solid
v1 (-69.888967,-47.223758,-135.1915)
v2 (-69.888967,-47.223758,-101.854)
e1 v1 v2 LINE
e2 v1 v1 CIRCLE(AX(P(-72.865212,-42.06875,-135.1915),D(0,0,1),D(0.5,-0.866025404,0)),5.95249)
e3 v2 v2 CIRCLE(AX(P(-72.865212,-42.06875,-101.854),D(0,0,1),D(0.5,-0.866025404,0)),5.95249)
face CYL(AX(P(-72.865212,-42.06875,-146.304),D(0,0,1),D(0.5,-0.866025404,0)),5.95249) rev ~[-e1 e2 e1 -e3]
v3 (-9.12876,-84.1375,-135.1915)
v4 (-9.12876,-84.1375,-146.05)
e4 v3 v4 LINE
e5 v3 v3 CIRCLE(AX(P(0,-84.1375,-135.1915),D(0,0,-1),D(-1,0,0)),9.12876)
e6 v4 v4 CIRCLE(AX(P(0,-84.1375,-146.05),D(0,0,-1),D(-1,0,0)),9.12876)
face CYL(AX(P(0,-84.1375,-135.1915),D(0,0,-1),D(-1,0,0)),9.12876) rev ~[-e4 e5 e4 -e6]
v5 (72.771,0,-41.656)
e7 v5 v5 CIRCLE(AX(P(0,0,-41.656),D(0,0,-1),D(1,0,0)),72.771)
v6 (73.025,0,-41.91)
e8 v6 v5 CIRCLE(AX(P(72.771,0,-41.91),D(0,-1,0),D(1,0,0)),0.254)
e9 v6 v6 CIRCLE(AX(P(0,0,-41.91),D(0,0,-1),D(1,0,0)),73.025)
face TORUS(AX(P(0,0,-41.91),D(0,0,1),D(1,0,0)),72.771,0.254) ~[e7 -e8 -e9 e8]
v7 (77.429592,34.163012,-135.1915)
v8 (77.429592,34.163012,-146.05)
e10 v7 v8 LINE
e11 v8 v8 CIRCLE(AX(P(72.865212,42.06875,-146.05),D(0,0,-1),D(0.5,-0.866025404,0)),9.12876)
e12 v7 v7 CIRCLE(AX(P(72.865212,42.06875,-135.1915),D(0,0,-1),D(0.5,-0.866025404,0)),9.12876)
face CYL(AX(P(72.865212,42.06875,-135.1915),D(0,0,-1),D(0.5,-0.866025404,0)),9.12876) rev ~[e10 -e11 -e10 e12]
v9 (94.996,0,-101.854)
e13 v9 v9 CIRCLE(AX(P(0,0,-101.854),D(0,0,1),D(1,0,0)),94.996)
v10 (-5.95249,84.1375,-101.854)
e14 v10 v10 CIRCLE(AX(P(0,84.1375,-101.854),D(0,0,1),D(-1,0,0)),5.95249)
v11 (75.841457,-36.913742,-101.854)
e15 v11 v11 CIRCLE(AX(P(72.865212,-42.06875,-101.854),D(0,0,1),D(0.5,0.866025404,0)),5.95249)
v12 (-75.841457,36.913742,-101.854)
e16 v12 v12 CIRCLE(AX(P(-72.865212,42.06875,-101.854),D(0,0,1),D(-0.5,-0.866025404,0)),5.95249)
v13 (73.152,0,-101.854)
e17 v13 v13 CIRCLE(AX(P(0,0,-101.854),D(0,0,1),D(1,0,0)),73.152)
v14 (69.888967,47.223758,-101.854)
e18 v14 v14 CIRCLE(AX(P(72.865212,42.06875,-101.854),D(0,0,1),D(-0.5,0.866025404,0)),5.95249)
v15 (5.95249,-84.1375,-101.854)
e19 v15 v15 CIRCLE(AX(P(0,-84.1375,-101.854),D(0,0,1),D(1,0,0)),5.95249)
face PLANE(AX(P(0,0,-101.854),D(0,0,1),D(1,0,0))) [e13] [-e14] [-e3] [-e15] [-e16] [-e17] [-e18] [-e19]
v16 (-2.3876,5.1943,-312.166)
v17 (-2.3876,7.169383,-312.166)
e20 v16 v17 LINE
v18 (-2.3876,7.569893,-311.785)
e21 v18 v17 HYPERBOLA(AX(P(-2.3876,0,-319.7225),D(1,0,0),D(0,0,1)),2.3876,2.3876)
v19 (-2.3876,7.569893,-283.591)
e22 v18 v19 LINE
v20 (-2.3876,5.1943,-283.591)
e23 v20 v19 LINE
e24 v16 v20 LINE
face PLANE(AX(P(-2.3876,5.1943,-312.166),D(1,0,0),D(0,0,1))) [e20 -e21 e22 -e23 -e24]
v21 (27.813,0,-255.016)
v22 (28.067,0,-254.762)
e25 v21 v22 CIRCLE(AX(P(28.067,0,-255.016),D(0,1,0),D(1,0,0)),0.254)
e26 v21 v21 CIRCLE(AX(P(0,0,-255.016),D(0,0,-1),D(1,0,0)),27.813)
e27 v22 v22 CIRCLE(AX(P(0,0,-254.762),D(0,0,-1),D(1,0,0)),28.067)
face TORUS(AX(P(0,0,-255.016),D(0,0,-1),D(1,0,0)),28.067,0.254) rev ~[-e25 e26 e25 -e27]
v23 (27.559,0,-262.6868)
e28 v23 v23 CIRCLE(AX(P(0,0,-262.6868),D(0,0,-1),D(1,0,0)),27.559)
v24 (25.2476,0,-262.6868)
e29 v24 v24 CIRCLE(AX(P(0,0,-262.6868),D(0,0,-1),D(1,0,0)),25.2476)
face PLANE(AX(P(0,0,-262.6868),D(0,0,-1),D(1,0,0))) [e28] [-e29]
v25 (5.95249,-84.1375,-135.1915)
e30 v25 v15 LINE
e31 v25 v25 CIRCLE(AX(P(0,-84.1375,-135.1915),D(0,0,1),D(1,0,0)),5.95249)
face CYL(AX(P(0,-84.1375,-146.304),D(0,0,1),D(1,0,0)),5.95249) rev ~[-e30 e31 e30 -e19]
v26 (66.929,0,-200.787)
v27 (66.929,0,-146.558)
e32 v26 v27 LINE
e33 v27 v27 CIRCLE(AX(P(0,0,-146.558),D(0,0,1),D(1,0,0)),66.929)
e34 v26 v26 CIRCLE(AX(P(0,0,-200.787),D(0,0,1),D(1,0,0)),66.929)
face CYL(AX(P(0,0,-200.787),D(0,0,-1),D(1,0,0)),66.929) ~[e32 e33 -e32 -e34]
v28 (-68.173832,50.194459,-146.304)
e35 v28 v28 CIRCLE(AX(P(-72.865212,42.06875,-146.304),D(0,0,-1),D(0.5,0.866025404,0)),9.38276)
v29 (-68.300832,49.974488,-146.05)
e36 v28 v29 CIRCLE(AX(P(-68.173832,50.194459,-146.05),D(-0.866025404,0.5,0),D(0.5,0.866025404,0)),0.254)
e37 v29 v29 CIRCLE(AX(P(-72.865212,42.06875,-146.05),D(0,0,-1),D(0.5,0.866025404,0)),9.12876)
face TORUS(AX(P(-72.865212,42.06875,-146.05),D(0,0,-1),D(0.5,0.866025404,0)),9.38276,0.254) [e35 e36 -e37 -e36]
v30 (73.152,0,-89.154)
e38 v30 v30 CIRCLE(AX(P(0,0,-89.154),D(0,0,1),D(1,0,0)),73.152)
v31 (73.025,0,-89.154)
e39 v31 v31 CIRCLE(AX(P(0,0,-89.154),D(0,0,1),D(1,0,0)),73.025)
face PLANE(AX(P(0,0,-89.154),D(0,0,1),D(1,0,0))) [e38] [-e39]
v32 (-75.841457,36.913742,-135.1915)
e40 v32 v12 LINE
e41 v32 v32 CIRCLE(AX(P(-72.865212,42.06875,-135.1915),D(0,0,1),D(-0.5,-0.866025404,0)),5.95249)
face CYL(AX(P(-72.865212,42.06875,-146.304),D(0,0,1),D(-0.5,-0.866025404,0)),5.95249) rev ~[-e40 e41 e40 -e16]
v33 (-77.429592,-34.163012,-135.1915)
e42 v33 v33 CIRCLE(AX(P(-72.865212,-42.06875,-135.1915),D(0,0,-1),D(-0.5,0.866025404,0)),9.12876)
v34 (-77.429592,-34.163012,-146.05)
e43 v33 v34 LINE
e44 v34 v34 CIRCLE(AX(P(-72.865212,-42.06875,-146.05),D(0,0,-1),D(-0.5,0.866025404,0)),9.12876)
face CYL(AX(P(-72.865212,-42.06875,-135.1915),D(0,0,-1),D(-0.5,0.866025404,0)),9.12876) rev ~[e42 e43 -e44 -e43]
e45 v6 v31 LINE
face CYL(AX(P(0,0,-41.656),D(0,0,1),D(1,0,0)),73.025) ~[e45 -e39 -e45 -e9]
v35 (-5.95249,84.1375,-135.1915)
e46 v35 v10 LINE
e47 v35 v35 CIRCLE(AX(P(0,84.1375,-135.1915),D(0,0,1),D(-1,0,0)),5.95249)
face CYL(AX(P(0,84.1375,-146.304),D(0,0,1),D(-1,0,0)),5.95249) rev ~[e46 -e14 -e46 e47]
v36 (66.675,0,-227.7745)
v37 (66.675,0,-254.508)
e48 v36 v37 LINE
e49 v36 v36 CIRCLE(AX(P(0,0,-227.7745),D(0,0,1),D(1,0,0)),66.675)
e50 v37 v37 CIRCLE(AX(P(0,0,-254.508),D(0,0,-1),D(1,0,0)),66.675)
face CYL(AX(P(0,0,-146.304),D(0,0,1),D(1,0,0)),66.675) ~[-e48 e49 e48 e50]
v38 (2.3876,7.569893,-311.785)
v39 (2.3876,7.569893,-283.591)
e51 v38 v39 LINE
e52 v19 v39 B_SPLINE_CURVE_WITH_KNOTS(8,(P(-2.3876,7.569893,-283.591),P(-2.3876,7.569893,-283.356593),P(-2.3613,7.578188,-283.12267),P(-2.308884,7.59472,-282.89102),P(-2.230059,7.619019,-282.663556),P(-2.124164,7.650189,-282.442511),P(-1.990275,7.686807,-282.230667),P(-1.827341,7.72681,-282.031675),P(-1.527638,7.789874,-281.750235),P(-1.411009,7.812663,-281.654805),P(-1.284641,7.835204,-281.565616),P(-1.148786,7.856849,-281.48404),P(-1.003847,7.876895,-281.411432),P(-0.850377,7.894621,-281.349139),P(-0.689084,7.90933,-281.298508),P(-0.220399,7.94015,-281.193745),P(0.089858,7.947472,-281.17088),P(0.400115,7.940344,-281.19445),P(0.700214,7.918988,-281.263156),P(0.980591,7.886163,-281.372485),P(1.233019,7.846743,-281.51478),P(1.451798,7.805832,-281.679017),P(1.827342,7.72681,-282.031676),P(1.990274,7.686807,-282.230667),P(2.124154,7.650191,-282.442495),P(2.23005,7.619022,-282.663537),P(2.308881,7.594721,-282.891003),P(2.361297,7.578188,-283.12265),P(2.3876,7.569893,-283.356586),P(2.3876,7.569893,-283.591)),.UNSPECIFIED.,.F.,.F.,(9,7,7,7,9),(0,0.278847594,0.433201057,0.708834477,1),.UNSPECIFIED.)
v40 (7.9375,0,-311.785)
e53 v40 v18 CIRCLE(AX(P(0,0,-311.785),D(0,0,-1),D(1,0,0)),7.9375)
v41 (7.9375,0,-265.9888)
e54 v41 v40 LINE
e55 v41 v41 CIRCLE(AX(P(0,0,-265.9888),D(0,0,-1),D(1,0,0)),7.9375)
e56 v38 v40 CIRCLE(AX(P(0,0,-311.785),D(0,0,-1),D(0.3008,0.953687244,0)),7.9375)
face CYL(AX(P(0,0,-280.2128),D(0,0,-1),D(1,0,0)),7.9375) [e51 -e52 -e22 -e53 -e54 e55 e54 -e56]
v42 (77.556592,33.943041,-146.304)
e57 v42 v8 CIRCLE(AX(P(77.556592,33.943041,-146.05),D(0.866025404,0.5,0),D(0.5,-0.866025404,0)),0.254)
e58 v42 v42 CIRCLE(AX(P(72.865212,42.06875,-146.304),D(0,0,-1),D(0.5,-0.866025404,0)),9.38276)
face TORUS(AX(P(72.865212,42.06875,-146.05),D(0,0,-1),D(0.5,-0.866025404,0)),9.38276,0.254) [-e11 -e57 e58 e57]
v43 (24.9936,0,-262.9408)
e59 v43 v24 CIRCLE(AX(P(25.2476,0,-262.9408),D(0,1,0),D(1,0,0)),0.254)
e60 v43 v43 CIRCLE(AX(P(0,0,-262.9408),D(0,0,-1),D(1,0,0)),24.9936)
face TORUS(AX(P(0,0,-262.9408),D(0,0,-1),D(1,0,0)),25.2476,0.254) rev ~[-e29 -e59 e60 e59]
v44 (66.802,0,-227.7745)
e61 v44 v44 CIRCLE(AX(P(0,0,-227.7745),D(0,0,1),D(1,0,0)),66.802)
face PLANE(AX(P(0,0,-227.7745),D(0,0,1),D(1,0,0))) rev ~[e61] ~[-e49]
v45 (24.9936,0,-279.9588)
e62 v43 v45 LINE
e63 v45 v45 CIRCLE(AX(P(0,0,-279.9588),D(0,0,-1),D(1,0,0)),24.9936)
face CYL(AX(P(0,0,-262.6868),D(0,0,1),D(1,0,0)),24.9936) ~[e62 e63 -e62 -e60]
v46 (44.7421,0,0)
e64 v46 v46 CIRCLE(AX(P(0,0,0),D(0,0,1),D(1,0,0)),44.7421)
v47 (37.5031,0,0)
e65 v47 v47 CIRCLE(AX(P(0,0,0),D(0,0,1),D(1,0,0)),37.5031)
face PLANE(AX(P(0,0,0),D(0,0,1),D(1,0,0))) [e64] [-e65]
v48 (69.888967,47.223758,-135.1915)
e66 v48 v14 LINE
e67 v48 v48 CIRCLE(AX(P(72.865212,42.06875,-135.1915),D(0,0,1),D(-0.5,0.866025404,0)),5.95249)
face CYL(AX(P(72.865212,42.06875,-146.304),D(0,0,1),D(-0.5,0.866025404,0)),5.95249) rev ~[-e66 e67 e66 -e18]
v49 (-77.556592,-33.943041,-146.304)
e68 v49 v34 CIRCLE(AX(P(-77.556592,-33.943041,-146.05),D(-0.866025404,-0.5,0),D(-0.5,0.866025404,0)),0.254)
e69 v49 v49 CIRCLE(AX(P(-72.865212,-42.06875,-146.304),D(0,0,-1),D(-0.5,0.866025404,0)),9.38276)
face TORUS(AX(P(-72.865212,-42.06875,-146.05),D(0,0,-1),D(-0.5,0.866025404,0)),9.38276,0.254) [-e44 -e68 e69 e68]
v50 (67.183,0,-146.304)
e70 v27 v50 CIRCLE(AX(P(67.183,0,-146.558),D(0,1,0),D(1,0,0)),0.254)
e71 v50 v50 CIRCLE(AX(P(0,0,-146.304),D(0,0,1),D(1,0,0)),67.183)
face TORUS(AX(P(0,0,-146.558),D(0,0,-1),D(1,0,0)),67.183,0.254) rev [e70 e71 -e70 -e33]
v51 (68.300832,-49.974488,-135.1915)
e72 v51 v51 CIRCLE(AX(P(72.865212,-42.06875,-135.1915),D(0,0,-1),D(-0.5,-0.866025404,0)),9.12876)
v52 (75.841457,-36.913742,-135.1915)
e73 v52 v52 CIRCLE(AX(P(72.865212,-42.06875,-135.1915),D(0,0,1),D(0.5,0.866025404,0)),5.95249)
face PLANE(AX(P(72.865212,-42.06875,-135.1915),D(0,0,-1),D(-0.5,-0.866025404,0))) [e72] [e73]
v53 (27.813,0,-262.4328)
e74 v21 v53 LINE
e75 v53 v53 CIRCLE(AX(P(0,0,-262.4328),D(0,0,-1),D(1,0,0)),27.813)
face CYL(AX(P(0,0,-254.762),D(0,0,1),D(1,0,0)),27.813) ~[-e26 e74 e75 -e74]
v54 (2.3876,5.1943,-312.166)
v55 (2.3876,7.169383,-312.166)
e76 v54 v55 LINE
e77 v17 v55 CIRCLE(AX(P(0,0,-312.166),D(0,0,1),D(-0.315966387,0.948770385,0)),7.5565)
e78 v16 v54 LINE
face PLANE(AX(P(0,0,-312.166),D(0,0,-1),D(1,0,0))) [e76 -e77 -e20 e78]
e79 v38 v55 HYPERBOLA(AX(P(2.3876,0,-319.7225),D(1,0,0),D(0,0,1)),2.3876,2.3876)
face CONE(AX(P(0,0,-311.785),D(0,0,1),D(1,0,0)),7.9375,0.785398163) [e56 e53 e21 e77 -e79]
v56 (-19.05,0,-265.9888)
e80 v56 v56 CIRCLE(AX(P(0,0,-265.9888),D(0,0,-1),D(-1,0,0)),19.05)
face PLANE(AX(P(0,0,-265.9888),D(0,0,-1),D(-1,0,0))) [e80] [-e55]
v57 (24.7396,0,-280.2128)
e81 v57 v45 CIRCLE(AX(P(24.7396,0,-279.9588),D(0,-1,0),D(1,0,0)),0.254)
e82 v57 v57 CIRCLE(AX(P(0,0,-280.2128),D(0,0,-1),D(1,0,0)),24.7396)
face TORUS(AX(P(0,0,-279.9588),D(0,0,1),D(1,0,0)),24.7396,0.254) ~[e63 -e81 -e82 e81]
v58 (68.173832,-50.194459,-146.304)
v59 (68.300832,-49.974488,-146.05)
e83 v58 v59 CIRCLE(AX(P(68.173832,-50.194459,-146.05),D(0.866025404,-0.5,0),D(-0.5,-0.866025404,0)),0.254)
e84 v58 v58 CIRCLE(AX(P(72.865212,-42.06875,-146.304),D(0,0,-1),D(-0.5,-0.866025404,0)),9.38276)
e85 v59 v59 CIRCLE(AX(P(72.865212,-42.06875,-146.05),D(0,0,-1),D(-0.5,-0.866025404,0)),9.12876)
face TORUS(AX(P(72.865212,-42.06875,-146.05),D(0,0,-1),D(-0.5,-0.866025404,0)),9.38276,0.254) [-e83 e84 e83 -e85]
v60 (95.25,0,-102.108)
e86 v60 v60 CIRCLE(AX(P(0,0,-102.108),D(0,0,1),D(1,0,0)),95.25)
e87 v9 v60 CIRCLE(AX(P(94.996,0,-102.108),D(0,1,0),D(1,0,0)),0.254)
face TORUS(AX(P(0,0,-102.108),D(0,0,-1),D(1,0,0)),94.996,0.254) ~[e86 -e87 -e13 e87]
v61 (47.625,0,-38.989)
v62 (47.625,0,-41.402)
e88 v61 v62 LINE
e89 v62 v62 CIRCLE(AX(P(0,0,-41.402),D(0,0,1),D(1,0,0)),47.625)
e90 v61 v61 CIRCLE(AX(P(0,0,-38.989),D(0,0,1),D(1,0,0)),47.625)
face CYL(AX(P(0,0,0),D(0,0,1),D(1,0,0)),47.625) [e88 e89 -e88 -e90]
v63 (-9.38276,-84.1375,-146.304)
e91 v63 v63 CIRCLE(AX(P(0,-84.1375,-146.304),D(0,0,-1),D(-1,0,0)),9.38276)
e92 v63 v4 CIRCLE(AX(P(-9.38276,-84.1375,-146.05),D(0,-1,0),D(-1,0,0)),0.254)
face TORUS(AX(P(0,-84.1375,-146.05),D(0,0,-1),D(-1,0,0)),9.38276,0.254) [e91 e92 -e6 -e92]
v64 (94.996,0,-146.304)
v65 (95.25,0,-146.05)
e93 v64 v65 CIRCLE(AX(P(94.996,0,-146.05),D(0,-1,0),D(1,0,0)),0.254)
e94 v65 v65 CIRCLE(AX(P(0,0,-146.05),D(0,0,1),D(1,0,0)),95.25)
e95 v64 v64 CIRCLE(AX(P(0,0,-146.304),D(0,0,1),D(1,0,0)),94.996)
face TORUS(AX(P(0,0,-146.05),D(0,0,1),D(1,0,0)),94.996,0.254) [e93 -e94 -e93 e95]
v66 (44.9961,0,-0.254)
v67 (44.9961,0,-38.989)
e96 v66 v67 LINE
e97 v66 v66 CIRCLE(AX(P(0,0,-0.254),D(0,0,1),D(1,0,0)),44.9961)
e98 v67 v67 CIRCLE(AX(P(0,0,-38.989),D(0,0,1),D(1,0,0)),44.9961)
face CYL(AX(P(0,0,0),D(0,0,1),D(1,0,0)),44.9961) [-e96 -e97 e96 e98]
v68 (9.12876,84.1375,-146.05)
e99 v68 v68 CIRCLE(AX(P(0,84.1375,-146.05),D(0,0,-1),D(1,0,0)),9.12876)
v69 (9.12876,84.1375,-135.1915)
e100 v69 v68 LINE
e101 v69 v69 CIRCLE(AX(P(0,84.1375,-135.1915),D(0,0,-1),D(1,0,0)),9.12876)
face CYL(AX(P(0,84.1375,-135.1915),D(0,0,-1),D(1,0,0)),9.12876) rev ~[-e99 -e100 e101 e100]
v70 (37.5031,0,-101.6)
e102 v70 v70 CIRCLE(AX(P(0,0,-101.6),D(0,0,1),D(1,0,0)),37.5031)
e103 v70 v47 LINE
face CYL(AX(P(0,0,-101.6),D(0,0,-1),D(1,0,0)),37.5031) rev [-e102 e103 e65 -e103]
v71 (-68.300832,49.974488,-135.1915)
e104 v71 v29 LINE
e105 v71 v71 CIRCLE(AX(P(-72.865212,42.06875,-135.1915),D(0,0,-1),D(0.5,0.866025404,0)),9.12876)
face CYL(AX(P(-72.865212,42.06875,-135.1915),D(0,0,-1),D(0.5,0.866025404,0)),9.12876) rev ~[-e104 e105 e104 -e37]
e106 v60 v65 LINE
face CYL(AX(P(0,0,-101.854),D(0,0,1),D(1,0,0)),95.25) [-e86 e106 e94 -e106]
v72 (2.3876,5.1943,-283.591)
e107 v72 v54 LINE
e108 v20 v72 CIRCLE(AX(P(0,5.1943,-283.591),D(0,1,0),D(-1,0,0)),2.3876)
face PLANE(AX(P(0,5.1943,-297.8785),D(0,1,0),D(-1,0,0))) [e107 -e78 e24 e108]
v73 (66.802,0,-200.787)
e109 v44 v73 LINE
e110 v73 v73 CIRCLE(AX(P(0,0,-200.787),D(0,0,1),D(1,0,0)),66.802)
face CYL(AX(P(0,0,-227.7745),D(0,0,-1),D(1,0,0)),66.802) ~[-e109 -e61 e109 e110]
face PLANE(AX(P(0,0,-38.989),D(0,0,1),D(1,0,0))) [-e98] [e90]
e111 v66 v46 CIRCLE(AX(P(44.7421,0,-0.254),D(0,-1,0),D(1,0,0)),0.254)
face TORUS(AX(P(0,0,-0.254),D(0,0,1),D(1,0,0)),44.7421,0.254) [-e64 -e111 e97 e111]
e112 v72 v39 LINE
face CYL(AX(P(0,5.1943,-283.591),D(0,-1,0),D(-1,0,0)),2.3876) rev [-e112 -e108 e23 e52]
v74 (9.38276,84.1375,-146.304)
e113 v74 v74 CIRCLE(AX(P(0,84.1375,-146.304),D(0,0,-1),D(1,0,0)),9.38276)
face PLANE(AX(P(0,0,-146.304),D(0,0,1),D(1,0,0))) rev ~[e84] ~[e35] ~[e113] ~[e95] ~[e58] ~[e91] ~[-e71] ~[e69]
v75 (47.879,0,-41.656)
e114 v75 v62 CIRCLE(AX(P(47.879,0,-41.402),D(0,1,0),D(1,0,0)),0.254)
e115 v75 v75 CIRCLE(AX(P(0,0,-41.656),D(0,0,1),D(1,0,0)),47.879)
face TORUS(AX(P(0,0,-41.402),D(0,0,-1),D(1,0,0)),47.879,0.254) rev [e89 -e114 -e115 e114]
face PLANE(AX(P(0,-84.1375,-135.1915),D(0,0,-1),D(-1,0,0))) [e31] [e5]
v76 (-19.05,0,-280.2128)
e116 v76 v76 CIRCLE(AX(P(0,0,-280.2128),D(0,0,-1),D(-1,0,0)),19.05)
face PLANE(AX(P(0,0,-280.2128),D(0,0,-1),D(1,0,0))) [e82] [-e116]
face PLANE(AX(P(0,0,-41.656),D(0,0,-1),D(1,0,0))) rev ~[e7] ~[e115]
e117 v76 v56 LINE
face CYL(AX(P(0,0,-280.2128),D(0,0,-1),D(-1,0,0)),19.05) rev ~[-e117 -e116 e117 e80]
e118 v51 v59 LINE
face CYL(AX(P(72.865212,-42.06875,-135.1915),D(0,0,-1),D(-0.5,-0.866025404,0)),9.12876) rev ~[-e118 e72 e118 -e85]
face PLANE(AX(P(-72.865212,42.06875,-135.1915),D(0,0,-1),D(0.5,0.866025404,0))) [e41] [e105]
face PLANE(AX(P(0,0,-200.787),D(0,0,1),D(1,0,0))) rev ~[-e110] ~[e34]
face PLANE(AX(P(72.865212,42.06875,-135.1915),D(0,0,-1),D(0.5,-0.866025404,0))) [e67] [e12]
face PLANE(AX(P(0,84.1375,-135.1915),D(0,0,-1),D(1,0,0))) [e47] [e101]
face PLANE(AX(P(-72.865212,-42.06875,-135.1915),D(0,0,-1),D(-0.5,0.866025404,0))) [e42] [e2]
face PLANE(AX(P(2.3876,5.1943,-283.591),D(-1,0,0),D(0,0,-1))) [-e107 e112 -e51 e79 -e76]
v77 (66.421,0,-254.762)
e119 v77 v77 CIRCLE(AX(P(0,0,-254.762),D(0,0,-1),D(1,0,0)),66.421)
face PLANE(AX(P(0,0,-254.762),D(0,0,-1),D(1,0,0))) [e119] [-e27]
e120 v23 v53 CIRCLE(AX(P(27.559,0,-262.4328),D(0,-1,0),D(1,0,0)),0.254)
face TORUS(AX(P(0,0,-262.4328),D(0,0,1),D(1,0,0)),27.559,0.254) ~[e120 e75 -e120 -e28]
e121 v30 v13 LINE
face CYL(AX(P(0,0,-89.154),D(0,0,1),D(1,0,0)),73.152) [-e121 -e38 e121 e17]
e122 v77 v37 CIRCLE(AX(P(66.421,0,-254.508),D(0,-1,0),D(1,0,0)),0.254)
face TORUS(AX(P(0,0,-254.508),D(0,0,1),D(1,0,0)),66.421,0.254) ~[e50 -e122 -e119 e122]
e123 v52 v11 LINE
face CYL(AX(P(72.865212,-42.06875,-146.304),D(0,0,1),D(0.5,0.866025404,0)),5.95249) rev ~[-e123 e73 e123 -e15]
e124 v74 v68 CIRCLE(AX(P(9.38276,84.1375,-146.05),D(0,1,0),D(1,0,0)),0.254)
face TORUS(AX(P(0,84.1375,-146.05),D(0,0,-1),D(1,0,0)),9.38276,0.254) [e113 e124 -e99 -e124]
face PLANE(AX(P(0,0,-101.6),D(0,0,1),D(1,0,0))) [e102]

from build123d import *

# Parameters (mm, degrees)
SKETCH1_R                 = 47.625
EXTRUDE_E_DEPTH           = 41.656
SKETCH2_R                 = 47.625
SKETCH2_R_2               = 44.9961
FROM_DRAWING_DEPTH        = 38.989
SKETCH3_R                 = 73.025
EXTRUDE_C_DEPTH           = 60.198
SKETCH4_R                 = 73.152
SKETCH4_R_2               = 73.025
BOSS_EXTRUDE3_DEPTH       = 12.7
SKETCH5_R                 = 95.25
EXTRUDE_B_DEPTH           = 44.45
CUT_EXTRUDE_START         = -101.6
SKETCH6_R                 = 37.5031
CUT_EXTRUDE_F_DEPTH       = 101.6
SKETCH8_R                 = 66.675
EXTRUDE_D_DEPTH           = 108.458
BOSS_EXTRUDE6_START       = 26.9875
SKETCH9_R                 = 66.802
BOSS_EXTRUDE6_DEPTH       = 26.9875
SKETCH10_R                = 66.929
BOSS_EXTRUDE7_DEPTH       = 54.483
SKETCH11_R                = 27.813
FROM_DRAWING_2_DEPTH      = 7.9248
SKETCH12_R                = 24.9936
EXTRUDE_Q_DEPTH           = 17.526
SKETCH13_R                = 7.9375
EXTRUDE_R_DEPTH           = 31.9532
HOLE_WIZARD_S_D           = 11.90498
HOLE_WIZARD_S_CBORE_D     = 18.25752
HOLE_WIZARD_S_CBORE_DEPTH = 11.1125
CIRPATTERN1_COUNT         = 6
SKETCH16_R                = 19.05
SKETCH16_R_2              = 7.9375
FROM_DRAWING_3_DEPTH      = 14.224
CUT_EXTRUDE_T_REACH       = 92.056
CUT_EXTRUDE_T_END_RADIUS  = 7.9375
CHAMFER1_SIZE             = 0.381
FILLET1_R                 = 0.254


with BuildPart() as part:
    # Sketch1 → Extrude E (new body)
    with BuildSketch(Plane.XY):
        Circle(SKETCH1_R)
    extrude(amount=-EXTRUDE_E_DEPTH)

    # Sketch2 → from drawing (cut)
    with BuildSketch(Plane.XY):
        Circle(SKETCH2_R)
        Circle(SKETCH2_R_2, mode=Mode.SUBTRACT)
    extrude(amount=-FROM_DRAWING_DEPTH, mode=Mode.SUBTRACT)

    # Sketch3 → Extrude C (add)
    with BuildSketch(Plane(origin=(0, 0, -41.656), x_dir=(-1, 0, 0), z_dir=(0, 0, -1))):
        with Locations(Location((0, 0, 0), (0, 0, 180))):  # turned: the seam where the file's is
            Circle(SKETCH3_R)
    extrude(amount=EXTRUDE_C_DEPTH)

    # Sketch4 → Boss-Extrude3 (add)
    with BuildSketch(Plane.XY.offset(-89.154)):
        Circle(SKETCH4_R)
        Circle(SKETCH4_R_2, mode=Mode.SUBTRACT)
    extrude(amount=-BOSS_EXTRUDE3_DEPTH)

    # Sketch5 → Extrude B (add)
    with BuildSketch(Plane.XY.offset(-101.854)):
        Circle(SKETCH5_R)
    extrude(amount=-EXTRUDE_B_DEPTH)

    # Sketch6 → Cut-Extrude F (cut)
    with BuildSketch(Plane.XY.offset(CUT_EXTRUDE_START)):
        Circle(SKETCH6_R)
    extrude(amount=CUT_EXTRUDE_F_DEPTH, mode=Mode.SUBTRACT)

    # Sketch8 → Extrude D (add)
    with BuildSketch(Plane(origin=(0, 0, -146.304), x_dir=(-1, 0, 0), z_dir=(0, 0, -1))):
        with Locations(Location((0, 0, 0), (0, 0, 180))):  # turned: the seam where the file's is
            Circle(SKETCH8_R)
    extrude(amount=EXTRUDE_D_DEPTH)

    # Sketch9 → Boss-Extrude6 (add)
    with BuildSketch(Plane.XY.offset(-254.762).offset(BOSS_EXTRUDE6_START)):
        Circle(SKETCH9_R)
    extrude(amount=BOSS_EXTRUDE6_DEPTH)

    # Sketch10 → Boss-Extrude7 (add)
    with BuildSketch(Plane.XY.offset(-200.787)):
        Circle(SKETCH10_R)
    extrude(amount=BOSS_EXTRUDE7_DEPTH)

    # Sketch11 → from drawing 2 (add)
    with BuildSketch(Plane(origin=(0, 0, -254.762), x_dir=(-1, 0, 0), z_dir=(0, 0, -1))):
        with Locations(Location((0, 0, 0), (0, 0, 180))):  # turned: the seam where the file's is
            Circle(SKETCH11_R)
    extrude(amount=FROM_DRAWING_2_DEPTH)

    # Sketch12 → Extrude Q (add)
    with BuildSketch(Plane(origin=(0, 0, -262.6868), x_dir=(-1, 0, 0), z_dir=(0, 0, -1))):
        with Locations(Location((0, 0, 0), (0, 0, 180))):  # turned: the seam where the file's is
            Circle(SKETCH12_R)
    extrude(amount=EXTRUDE_Q_DEPTH)

    # Sketch13 → Extrude R (add)
    with BuildSketch(Plane(origin=(0, 0, -280.2128), x_dir=(-1, 0, 0), z_dir=(0, 0, -1))):
        with Locations(Location((0, 0, 0), (0, 0, 180))):  # turned: the seam where the file's is
            Circle(SKETCH13_R)
    extrude(amount=EXTRUDE_R_DEPTH)

    # Hole Wizard S (through all)
    with Locations(Plane(origin=(0, 0, -146.304), x_dir=(-1, 0, 0), z_dir=(0, 0, -1))):
        with Locations((0, -84.1375)):
            hole_wizard_s = CounterBoreHole(HOLE_WIZARD_S_D / 2, HOLE_WIZARD_S_CBORE_D / 2, HOLE_WIZARD_S_CBORE_DEPTH)

    # CirPattern1: Hole Wizard S ×6 about axis
    cirpattern1_axis = Axis((0, 0, 0), (0, 0, 1))
    for i in range(1, CIRPATTERN1_COUNT):
        add(hole_wizard_s.rotate(cirpattern1_axis, i * 360 / CIRPATTERN1_COUNT), mode=Mode.SUBTRACT)

    # Sketch16 → from drawing 3 (cut)
    with BuildSketch(Plane(origin=(0, 0, -280.2128), x_dir=(-1, 0, 0), z_dir=(0, 0, -1))):
        Circle(SKETCH16_R)
        with Locations(Location((0, 0, 0), (0, 0, 180))):  # turned: the seam where the file's is
            Circle(SKETCH16_R_2, mode=Mode.SUBTRACT)
    extrude(amount=-FROM_DRAWING_3_DEPTH, mode=Mode.SUBTRACT)

    # Cut-Extrude T: up to this cylinder (the profile starts inside it)
    cut_extrude_t_end = Plane(origin=(0, 0, -297.8785), z_dir=(0, 0, 1)) * Cylinder(CUT_EXTRUDE_T_END_RADIUS, 200.987, mode=Mode.PRIVATE)
    # Sketch17 → Cut-Extrude T (cut, up to the surface)
    with BuildSketch(Plane.XZ.offset(-5.1943), mode=Mode.PRIVATE) as cut_extrude_t_sk1:
        with BuildLine():
            Line((-2.3876, -312.166), (-2.3876, -283.591))
            ThreePointArc((-2.3876, -283.591), (0, -281.2034), (2.3876, -283.591))
            Line((2.3876, -283.591), (2.3876, -312.166))
            ThreePointArc((2.3876, -312.166), (0, -314.5536), (-2.3876, -312.166))
        make_face()
    cut_extrude_t_tool1 = extrude(cut_extrude_t_sk1.sketch, amount=-CUT_EXTRUDE_T_REACH, mode=Mode.PRIVATE) & cut_extrude_t_end
    add(cut_extrude_t_tool1.solids().sort_by_distance((0, 5.1943, -297.8785))[0], mode=Mode.SUBTRACT)

    # Chamfer1
    chamfer1_edges = [part.edges().sort_by_distance(p)[0] for p in [
        (-4.693204196, -6.401385836, -312.166),
    ]]
    chamfer(chamfer1_edges, length=CHAMFER1_SIZE)

    # Fillet1
    fillet1_edges = [part.edges().sort_by_distance(p)[0] for p in [
        (-68.300832411, -49.974488065, -146.304),
        (-44.9961, 0, 0),
        (-73.025, 0, -41.656),
        (-95.25, 0, -101.854),
        (-95.25, 0, -146.304),
        (-66.675, 0, -254.762),
        (-47.625, 0, -41.656),
        (-66.929, 0, -146.304),
        (-27.813, 0, -254.762),
        (-27.813, 0, -262.6868),
        (-24.9936, 0, -262.6868),
        (-24.9936, 0, -280.2128),
        (9.12876, -84.1375, -146.304),
        (77.429592411, -34.163011935, -146.304),
        (68.300832411, 49.974488065, -146.304),
        (-9.12876, 84.1375, -146.304),
        (-77.429592411, 34.163011935, -146.304),
    ]]
    fillet(fillet1_edges, radius=FILLET1_R)


solid = part.part
